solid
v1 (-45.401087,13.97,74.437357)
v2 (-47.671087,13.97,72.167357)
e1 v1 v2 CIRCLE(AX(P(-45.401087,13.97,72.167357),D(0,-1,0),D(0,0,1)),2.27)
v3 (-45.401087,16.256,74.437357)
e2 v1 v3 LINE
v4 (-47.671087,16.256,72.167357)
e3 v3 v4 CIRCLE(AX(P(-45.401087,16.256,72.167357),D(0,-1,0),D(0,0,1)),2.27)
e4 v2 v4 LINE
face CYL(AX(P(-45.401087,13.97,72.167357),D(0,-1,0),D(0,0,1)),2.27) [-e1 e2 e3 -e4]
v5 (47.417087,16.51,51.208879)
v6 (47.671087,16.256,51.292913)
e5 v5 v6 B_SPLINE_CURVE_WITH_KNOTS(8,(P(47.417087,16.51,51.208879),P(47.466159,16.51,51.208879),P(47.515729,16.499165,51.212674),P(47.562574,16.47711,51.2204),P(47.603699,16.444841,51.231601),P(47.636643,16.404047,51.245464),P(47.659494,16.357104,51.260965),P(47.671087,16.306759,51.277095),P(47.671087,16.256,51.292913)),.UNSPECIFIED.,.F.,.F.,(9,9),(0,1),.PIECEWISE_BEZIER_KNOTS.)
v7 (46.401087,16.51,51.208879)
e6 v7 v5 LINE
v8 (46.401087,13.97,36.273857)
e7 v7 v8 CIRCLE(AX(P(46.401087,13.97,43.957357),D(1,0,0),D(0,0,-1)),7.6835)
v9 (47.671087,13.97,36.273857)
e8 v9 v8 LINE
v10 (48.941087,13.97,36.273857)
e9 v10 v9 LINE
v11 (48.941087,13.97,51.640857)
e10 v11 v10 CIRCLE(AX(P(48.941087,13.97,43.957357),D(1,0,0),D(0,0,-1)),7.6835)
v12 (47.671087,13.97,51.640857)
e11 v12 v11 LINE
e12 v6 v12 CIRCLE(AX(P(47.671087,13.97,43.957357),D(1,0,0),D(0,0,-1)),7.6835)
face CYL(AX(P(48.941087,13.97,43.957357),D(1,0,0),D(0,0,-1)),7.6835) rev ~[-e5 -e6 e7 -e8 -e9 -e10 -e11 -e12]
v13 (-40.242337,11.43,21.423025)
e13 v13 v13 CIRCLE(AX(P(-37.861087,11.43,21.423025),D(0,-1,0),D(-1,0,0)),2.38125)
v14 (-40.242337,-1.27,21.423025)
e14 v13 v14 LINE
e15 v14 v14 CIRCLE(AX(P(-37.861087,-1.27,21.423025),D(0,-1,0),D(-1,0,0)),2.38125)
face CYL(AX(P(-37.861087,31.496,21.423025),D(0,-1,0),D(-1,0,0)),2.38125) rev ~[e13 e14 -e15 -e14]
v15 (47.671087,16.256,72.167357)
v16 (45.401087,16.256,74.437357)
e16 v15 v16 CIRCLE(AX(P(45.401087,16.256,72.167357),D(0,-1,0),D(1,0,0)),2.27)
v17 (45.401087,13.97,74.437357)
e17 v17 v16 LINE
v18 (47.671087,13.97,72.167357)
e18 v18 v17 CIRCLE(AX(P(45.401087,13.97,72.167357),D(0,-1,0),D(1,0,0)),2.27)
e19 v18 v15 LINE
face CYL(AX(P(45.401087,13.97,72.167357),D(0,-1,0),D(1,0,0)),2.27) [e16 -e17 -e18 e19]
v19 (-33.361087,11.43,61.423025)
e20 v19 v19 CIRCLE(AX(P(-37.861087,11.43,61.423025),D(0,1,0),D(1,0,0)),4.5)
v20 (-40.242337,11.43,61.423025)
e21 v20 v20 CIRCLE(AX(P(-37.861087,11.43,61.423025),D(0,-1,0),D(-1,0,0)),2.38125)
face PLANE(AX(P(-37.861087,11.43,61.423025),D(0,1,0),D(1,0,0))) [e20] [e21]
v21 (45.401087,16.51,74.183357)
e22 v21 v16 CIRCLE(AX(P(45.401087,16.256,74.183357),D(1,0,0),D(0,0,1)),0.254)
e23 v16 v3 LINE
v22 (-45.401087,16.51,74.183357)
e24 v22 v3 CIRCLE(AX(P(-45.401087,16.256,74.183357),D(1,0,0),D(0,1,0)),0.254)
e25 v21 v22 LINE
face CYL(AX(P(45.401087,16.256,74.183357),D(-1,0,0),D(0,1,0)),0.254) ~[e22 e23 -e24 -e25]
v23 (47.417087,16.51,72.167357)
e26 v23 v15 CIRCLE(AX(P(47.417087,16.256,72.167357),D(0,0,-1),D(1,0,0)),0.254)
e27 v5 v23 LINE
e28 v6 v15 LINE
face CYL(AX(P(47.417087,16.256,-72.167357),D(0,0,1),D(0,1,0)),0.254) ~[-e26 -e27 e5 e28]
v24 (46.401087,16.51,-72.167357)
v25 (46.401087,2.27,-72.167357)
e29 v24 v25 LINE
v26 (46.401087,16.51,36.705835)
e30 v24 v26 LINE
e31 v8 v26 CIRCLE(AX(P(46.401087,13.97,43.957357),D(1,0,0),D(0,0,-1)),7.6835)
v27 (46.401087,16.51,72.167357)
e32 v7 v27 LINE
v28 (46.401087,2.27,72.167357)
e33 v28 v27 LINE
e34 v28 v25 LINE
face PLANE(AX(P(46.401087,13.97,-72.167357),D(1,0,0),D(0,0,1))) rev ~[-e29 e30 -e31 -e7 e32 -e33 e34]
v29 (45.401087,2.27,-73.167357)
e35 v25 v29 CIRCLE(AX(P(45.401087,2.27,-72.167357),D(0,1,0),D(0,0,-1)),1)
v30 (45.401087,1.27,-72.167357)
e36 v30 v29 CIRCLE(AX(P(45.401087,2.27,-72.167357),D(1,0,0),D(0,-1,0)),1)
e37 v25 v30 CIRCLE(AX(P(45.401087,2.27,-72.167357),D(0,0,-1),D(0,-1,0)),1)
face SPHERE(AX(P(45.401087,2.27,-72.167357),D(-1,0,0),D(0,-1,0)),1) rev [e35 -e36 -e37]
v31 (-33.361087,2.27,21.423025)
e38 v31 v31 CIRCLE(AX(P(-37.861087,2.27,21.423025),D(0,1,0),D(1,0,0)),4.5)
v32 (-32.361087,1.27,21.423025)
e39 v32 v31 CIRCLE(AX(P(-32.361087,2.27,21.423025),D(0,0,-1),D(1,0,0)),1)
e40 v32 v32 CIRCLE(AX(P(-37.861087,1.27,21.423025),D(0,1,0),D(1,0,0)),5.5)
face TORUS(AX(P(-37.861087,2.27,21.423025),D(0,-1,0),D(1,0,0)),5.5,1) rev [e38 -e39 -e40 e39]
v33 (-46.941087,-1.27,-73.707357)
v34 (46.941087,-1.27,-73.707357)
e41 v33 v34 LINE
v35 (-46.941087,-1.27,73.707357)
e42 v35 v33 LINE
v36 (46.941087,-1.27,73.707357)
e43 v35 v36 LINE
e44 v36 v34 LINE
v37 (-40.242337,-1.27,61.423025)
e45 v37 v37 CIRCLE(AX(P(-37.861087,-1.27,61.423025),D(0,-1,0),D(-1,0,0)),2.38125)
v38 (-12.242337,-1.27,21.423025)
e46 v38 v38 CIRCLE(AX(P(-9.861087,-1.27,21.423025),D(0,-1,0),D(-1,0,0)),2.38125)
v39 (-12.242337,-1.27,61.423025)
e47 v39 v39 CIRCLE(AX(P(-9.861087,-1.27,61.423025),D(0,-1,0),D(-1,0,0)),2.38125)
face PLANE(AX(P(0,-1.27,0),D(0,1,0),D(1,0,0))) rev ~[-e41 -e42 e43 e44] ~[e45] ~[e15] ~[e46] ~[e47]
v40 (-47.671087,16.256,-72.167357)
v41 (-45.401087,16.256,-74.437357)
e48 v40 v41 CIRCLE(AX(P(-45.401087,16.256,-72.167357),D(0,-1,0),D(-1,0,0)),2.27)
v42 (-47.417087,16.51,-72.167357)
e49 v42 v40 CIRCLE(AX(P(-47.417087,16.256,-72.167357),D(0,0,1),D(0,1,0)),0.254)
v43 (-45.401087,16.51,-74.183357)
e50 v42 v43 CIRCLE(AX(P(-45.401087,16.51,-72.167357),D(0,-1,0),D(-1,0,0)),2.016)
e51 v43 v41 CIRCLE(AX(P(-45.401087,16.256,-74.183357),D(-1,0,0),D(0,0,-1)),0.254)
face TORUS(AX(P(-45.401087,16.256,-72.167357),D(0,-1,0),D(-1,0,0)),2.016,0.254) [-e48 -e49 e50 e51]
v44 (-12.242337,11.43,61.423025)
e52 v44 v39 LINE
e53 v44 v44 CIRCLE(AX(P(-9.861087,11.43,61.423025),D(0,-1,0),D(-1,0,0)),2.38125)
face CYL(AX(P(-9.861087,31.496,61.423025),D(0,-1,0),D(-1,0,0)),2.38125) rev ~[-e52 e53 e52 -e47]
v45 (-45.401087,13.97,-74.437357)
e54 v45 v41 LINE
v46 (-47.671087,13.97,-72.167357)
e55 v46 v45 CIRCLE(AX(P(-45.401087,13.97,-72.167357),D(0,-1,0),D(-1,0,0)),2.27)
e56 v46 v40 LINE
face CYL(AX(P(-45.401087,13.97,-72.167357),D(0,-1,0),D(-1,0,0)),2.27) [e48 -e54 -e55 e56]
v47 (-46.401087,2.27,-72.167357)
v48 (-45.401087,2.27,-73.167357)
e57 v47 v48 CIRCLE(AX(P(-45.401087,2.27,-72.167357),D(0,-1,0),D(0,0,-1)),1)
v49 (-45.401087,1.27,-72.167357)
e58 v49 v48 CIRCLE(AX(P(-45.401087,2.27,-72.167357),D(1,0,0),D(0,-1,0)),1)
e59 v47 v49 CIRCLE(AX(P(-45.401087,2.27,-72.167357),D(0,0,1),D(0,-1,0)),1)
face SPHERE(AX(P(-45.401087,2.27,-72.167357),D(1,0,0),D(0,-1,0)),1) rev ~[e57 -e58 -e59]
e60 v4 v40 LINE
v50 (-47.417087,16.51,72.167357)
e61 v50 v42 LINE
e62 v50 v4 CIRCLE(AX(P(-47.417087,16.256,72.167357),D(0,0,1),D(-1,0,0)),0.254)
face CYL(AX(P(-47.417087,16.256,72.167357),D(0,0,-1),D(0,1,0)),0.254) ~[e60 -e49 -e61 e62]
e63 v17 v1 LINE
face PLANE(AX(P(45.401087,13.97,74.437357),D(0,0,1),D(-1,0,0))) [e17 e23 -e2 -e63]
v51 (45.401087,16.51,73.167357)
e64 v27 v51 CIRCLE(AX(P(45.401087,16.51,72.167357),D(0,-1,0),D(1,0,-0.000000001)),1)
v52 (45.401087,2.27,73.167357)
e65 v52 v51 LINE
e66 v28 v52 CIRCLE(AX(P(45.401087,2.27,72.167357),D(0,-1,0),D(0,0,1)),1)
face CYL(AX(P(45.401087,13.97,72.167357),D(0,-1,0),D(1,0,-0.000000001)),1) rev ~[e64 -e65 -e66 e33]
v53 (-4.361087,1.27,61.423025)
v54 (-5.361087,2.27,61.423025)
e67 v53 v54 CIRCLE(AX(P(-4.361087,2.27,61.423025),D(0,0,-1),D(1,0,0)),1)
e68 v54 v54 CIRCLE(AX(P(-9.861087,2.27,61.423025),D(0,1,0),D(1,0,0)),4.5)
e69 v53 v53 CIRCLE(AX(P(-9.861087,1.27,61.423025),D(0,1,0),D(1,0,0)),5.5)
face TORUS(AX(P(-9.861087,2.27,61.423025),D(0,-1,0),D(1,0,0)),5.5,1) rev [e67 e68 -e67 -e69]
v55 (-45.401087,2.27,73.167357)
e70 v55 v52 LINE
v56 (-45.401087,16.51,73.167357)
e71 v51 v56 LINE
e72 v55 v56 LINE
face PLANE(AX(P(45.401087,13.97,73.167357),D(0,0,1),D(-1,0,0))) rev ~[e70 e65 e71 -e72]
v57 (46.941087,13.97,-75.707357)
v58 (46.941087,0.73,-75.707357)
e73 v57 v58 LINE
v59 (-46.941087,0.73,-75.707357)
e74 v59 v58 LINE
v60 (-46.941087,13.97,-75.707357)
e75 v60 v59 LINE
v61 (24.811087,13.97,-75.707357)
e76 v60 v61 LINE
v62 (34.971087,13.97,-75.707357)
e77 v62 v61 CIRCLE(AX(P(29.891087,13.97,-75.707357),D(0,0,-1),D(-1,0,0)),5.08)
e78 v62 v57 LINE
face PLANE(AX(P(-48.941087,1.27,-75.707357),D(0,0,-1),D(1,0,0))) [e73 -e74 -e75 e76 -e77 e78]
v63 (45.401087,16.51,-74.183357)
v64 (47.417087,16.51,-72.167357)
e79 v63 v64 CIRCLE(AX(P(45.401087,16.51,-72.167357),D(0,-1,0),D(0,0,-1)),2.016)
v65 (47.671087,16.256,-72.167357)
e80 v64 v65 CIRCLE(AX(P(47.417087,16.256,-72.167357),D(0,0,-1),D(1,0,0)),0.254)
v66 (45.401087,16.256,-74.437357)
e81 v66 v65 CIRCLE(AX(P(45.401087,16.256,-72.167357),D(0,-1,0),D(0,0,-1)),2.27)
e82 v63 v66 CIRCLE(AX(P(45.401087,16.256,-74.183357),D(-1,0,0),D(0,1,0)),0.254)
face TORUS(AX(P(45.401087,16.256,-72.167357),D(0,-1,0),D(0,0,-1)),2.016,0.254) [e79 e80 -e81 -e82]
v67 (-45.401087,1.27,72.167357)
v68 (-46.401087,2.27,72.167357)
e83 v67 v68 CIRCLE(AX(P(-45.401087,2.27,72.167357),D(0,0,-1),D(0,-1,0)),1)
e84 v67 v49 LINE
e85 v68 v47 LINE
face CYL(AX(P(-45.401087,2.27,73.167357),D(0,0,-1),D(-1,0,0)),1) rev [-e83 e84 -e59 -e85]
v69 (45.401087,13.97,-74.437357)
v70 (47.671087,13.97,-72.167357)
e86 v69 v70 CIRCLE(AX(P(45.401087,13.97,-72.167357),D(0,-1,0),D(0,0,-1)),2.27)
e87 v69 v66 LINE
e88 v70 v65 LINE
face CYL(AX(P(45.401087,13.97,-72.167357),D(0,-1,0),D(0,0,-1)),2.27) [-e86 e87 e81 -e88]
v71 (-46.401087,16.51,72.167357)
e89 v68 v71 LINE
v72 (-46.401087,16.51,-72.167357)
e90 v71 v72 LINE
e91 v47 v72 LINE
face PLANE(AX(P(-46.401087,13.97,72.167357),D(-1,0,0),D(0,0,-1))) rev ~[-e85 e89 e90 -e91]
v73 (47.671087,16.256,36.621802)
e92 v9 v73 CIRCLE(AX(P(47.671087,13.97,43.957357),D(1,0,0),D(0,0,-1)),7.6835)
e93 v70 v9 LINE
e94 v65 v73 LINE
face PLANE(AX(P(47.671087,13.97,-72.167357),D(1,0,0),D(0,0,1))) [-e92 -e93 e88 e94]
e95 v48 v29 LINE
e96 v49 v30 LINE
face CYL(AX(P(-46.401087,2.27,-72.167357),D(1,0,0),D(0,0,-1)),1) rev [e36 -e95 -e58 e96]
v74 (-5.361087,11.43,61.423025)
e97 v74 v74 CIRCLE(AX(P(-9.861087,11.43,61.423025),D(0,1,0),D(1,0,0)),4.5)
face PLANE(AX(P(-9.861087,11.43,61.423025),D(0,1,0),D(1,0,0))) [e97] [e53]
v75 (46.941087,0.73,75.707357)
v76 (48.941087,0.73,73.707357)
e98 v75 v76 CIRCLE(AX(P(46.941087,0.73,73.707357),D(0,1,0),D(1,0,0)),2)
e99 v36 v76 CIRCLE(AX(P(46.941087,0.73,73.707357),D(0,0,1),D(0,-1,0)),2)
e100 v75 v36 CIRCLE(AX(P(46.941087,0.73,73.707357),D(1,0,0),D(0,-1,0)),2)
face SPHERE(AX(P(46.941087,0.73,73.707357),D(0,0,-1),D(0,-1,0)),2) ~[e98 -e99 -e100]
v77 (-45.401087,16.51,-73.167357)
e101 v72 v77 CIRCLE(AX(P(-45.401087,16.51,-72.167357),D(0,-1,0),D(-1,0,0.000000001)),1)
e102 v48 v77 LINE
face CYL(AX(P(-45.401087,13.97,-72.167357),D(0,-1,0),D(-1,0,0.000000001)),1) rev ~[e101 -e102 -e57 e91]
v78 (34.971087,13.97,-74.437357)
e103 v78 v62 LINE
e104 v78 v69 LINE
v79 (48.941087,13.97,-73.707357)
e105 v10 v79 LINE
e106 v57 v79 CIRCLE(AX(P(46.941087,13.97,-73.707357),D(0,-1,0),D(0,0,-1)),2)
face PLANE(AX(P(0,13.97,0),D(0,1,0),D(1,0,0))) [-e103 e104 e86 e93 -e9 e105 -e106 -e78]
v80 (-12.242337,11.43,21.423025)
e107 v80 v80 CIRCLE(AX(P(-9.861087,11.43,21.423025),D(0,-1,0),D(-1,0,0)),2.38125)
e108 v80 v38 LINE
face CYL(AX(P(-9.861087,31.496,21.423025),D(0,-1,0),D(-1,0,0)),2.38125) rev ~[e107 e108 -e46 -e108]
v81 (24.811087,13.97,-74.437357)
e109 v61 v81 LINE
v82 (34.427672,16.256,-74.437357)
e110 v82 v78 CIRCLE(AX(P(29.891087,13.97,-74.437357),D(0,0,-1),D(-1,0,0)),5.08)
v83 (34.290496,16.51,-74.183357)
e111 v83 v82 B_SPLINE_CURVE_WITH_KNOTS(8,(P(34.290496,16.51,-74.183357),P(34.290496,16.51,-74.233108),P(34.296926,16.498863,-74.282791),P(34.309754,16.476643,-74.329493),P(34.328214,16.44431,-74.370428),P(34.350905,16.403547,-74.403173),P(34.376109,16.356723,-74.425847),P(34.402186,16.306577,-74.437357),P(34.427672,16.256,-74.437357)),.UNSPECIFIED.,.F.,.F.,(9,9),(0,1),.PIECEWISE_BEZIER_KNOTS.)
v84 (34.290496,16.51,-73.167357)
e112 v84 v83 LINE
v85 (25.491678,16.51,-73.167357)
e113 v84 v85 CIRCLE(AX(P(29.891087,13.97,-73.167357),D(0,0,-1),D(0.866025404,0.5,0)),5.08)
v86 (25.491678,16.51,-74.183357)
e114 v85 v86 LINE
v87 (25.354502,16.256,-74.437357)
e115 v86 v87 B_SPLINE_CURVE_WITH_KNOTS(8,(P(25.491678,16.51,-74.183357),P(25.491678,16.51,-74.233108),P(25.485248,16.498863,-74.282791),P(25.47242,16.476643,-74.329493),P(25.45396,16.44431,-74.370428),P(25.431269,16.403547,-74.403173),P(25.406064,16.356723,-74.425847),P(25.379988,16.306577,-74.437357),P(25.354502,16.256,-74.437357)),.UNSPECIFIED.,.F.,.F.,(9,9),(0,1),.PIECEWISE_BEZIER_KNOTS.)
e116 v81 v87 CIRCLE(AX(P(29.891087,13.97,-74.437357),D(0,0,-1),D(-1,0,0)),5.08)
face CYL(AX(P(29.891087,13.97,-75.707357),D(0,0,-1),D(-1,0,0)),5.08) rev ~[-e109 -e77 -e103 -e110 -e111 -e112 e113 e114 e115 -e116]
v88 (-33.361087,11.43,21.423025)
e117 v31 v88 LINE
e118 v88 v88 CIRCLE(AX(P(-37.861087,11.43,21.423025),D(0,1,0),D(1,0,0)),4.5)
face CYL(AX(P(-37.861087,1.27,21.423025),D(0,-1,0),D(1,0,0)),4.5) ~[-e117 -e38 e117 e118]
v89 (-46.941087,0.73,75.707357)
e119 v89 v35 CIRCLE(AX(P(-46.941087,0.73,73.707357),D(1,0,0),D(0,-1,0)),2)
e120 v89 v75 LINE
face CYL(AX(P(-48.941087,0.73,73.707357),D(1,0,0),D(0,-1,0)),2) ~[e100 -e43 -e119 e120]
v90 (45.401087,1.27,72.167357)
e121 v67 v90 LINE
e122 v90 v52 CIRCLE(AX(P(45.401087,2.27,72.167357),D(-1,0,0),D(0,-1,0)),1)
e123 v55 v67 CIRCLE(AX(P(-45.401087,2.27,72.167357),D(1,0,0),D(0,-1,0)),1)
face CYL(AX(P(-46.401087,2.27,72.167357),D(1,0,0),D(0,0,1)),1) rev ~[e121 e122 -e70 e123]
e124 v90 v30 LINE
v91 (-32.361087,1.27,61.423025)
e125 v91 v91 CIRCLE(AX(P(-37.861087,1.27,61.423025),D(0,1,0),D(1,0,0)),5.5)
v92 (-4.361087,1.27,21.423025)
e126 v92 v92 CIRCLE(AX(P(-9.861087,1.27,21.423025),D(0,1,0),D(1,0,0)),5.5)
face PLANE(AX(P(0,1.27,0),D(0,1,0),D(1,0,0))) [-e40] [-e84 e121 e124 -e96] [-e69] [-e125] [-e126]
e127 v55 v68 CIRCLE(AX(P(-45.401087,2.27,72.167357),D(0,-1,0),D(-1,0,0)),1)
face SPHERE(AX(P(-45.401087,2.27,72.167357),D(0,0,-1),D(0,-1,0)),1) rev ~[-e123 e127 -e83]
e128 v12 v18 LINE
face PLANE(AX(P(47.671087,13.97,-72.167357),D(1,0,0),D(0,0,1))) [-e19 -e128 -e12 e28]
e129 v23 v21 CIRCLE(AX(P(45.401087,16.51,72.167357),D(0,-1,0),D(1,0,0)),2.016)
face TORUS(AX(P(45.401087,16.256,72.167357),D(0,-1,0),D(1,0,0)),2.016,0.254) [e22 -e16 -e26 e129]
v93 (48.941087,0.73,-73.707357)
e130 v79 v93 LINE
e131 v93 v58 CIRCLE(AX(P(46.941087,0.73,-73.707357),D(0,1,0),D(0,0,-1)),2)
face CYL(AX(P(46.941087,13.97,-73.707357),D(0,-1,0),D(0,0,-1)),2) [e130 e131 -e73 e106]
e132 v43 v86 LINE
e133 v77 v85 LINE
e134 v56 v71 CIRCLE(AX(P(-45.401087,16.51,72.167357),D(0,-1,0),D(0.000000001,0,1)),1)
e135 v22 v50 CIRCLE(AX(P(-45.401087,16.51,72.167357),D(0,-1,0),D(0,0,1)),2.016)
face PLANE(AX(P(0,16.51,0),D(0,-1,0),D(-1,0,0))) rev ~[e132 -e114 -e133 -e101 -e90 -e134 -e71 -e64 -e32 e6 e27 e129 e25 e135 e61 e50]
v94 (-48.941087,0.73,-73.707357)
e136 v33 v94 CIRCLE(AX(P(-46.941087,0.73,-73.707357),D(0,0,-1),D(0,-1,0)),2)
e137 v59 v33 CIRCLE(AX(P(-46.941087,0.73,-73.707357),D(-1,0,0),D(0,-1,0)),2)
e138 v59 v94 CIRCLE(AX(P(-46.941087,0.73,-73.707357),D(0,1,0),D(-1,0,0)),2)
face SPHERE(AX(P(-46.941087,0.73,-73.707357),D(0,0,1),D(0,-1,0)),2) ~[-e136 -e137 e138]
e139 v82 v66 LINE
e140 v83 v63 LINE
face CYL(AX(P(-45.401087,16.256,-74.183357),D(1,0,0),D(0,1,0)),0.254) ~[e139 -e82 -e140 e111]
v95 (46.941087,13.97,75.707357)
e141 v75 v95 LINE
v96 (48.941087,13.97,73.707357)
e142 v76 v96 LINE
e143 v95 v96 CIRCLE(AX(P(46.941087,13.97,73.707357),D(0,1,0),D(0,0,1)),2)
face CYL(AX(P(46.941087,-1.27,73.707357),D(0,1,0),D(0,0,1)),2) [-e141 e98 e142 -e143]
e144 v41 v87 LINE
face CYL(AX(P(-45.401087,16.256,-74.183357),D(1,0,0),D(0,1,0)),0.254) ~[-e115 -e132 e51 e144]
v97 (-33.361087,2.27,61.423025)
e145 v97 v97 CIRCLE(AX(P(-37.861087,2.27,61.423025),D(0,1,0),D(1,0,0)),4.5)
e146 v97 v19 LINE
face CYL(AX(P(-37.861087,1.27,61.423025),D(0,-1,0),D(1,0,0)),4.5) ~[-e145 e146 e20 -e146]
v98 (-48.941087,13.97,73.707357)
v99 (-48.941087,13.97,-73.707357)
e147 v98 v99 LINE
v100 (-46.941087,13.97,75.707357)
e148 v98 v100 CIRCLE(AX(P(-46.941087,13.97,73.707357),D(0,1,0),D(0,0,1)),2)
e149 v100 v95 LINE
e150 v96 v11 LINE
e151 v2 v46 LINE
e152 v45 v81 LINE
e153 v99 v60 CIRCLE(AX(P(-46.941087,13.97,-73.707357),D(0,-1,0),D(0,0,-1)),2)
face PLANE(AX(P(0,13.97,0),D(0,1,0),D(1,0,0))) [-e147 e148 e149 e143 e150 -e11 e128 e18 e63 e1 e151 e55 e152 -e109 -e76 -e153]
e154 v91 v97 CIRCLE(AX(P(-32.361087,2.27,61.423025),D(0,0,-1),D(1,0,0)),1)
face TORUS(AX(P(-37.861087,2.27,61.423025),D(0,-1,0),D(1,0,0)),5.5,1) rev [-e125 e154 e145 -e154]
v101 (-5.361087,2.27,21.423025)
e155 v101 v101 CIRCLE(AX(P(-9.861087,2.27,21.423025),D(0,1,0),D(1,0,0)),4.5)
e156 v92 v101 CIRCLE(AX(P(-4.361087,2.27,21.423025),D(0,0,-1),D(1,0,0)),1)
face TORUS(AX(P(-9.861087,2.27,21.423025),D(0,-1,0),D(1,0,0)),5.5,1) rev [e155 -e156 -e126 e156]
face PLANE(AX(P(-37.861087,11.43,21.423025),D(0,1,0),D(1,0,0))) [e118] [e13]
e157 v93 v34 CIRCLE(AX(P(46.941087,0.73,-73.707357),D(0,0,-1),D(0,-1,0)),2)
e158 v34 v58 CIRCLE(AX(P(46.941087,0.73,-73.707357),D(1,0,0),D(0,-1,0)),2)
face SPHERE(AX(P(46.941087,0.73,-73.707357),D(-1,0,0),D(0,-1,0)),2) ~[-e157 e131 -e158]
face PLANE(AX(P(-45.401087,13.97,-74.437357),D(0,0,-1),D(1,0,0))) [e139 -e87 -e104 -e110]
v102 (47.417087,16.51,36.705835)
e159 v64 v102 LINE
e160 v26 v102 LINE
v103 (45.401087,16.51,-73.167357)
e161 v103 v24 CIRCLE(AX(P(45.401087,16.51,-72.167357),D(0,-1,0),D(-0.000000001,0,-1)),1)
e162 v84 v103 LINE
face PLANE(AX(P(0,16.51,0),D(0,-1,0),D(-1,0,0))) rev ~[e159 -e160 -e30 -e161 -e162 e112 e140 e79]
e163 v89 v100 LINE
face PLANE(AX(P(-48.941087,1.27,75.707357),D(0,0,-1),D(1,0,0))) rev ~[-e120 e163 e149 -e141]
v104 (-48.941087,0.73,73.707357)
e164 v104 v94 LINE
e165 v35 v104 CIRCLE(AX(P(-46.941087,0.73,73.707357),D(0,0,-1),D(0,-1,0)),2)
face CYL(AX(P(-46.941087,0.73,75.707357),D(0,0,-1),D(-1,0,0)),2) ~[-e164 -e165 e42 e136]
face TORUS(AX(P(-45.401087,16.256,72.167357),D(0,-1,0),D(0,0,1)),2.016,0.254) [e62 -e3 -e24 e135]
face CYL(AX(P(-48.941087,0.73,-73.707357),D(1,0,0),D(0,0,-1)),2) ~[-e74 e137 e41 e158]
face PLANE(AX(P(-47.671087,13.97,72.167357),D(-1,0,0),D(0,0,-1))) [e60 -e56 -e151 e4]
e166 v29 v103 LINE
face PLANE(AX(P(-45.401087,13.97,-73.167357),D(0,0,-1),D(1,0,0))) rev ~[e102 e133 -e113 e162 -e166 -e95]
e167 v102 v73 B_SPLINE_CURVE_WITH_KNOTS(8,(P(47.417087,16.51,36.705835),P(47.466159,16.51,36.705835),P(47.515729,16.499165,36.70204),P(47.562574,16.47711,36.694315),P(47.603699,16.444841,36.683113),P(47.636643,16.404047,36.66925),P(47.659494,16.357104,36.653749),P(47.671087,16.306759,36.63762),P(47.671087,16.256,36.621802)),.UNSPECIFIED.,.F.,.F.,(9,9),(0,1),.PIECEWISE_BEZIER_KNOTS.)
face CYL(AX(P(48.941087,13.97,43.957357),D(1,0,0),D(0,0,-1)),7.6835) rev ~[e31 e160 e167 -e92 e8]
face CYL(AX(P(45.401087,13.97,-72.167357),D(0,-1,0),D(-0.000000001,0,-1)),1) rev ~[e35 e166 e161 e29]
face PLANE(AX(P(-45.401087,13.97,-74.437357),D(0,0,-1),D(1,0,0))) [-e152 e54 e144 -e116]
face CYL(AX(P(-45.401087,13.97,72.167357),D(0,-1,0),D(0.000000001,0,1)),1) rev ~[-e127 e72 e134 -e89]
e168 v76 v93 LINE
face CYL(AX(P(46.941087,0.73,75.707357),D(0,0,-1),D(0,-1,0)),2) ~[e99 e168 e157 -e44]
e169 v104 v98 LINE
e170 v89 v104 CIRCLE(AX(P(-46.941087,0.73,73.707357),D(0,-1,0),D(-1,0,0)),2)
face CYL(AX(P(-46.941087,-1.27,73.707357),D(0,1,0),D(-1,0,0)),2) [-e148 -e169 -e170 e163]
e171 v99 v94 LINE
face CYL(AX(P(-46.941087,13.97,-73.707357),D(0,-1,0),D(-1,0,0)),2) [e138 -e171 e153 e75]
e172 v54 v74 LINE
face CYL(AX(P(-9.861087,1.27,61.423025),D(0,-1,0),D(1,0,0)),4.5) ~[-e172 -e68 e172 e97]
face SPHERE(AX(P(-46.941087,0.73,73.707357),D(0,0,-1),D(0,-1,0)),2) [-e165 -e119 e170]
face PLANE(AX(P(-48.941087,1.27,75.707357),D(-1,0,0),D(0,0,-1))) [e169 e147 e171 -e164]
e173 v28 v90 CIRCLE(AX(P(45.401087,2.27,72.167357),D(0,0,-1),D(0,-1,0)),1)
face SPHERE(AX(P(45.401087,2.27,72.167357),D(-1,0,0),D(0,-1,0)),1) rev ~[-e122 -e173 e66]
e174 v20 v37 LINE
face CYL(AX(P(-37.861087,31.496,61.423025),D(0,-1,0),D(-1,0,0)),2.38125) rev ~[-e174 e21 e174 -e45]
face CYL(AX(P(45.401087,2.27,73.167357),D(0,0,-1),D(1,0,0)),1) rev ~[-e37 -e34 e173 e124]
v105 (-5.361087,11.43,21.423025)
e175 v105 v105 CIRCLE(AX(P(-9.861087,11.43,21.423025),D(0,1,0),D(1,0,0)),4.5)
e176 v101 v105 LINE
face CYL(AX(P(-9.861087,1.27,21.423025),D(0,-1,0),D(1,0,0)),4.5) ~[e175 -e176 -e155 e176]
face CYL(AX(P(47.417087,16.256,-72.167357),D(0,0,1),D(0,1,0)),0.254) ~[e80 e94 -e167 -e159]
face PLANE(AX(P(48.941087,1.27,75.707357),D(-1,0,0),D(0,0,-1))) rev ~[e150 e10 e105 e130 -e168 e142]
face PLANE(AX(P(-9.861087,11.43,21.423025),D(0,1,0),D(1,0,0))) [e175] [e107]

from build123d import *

# Parameters (mm, degrees)
SKETCH1_W                          = 97.882173792
SKETCH1_H                          = 151.414714432
BOSS_EXTRUDE1_DEPTH                = 1.27
SKETCH2_W                          = 97.882173792
SKETCH2_H                          = 151.414714432
SKETCH2_W_2                        = 92.802173792
SKETCH2_H_2                        = 146.334714432
BOSS_EXTRUDE2_DEPTH                = 12.7
SKETCH4_R                          = 4.500000017
SKETCH4_R_2                        = 4.5
BOSS_EXTRUDE3_DEPTH                = 10.16
FILLET1_R                          = 2
FILLET2_R                          = 1
FILLET3_R                          = 1
F_3_16_0_1875_DIAMETER_HOLE1_D     = 4.7625
F_3_16_0_1875_DIAMETER_HOLE1_DEPTH = 20.066
F_3_16_0_1875_DIAMETER_HOLE1_TIP   = 1.430799349
BOSS_EXTRUDE4_DEPTH                = 2.54
FILLET4_R                          = 0.254
SKETCH8_R                          = 7.6835
CUT_EXTRUDE1_DEPTH                 = 2.54
CUT_EXTRUDE2_REACH                 = 153.415
SKETCH10_R                         = 5.08


with BuildPart() as part:
    # Sketch1 → Boss-Extrude1 (new body, symmetric)
    with BuildSketch(Plane(origin=(0, 0, 0), x_dir=(1, 0, 0), z_dir=(0, 1, 0))):
        Rectangle(SKETCH1_W, SKETCH1_H)
    extrude(amount=BOSS_EXTRUDE1_DEPTH, both=True)

    # Sketch2 → Boss-Extrude2 (add)
    with BuildSketch(Plane(origin=(0, 1.27, 0), x_dir=(1, 0, 0), z_dir=(0, 1, 0))):
        Rectangle(SKETCH2_W, SKETCH2_H)
        Rectangle(SKETCH2_W_2, SKETCH2_H_2, mode=Mode.SUBTRACT)
    extrude(amount=BOSS_EXTRUDE2_DEPTH)

    # Sketch4 → Boss-Extrude3 (add)
    with BuildSketch(Plane(origin=(0, 1.27, 0), x_dir=(1, 0, 0), z_dir=(0, 1, 0))):
        with Locations((-9.861086891, -21.423024629)):
            Circle(SKETCH4_R)
        with Locations((-37.861086891, -61.423024629)):
            Circle(SKETCH4_R_2)
        with Locations((-9.861086891, -61.423024629)):
            Circle(SKETCH4_R)
        with Locations((-37.861086891, -21.423024629)):
            Circle(SKETCH4_R_2)
    extrude(amount=BOSS_EXTRUDE3_DEPTH)

    # Fillet1
    fillet1_edges = [part.edges().sort_by_distance(p)[0] for p in [
        (-48.941086896, -1.27, 0),
        (0, -1.27, -75.707357216),
        (48.941086896, -1.27, 0),
        (0, -1.27, 75.707357216),
        (-48.941086896, 6.35, 75.707357216),
        (-48.941086896, 6.35, -75.707357216),
        (48.941086896, 6.35, -75.707357216),
        (48.941086896, 6.35, 75.707357216),
    ]]
    fillet(fillet1_edges, radius=FILLET1_R)

    # Fillet2
    fillet2_edges = [part.edges().sort_by_distance(p)[0] for p in [
        (0, 1.27, -73.167357216),
        (-46.401086896, 1.27, 0),
        (0, 1.27, 73.167357216),
        (46.401086896, 1.27, 0),
        (-46.401086896, 7.62, -73.167357216),
        (-46.401086896, 7.62, 73.167357216),
        (46.401086896, 7.62, 73.167357216),
        (46.401086896, 7.62, -73.167357216),
    ]]
    fillet(fillet2_edges, radius=FILLET2_R)

    # Fillet3
    fillet3_edges = [part.edges().sort_by_distance(p)[0] for p in [
        (-14.361086908, 1.27, 21.423024629),
        (-42.361086891, 1.27, 61.423024629),
        (-14.361086908, 1.27, 61.423024629),
        (-42.361086891, 1.27, 21.423024629),
    ]]
    fillet(fillet3_edges, radius=FILLET3_R)

    # 3/16 (0.1875) Diameter Hole1
    with Locations(Plane(origin=(0, 11.43, 0), x_dir=(1, 0, 0), z_dir=(0, 1, 0))):
        with Locations((-37.861086891, -21.423024629), (-37.861086891, -61.423024629), (-9.861086891, -21.423024629), (-9.861086891, -61.423024629)):
            Hole(F_3_16_0_1875_DIAMETER_HOLE1_D / 2, depth=F_3_16_0_1875_DIAMETER_HOLE1_DEPTH)
            with Locations((0, 0, -(F_3_16_0_1875_DIAMETER_HOLE1_DEPTH + F_3_16_0_1875_DIAMETER_HOLE1_TIP / 2))):  # 118° drill point
                Cone(0, F_3_16_0_1875_DIAMETER_HOLE1_D / 2, F_3_16_0_1875_DIAMETER_HOLE1_TIP, mode=Mode.SUBTRACT)

    # Sketch7 → Boss-Extrude4 (add)
    with BuildSketch(Plane(origin=(0, 13.97, 0), x_dir=(1, 0, 0), z_dir=(0, 1, 0))):
        with BuildLine():
            Line((45.401086896, -74.437357216), (-45.401086896, -74.437357216))
            ThreePointArc((-45.401086896, -74.437357216), (-47.00621929, -73.772489609), (-47.671086896, -72.167357216))
            Line((-47.671086896, -72.167357216), (-47.671086896, 72.167357216))
            ThreePointArc((-47.671086896, 72.167357216), (-47.00621929, 73.772489609), (-45.401086896, 74.437357216))
            Line((-45.401086896, 74.437357216), (45.401086896, 74.437357216))
            ThreePointArc((45.401086896, 74.437357216), (47.00621929, 73.772489609), (47.671086896, 72.167357216))
            Line((47.671086896, 72.167357216), (47.671086896, -72.167357216))
            ThreePointArc((47.671086896, -72.167357216), (47.00621929, -73.772489609), (45.401086896, -74.437357216))
        make_face()
        with BuildLine():
            Line((46.401086896, 72.167357216), (46.401086896, -72.167357216))
            ThreePointArc((46.401086896, -72.167357216), (46.108193678, -72.874463997), (45.401086896, -73.167357216))
            Line((45.401086896, -73.167357216), (-45.401086896, -73.167357216))
            ThreePointArc((-45.401086896, -73.167357216), (-46.108193678, -72.874463997), (-46.401086896, -72.167357216))
            Line((-46.401086896, -72.167357216), (-46.401086896, 72.167357216))
            ThreePointArc((-46.401086896, 72.167357216), (-46.108193678, 72.874463997), (-45.401086896, 73.167357216))
            Line((-45.401086896, 73.167357216), (45.401086896, 73.167357216))
            ThreePointArc((45.401086896, 73.167357216), (46.108193678, 72.874463997), (46.401086896, 72.167357216))
        make_face(mode=Mode.SUBTRACT)
    extrude(amount=BOSS_EXTRUDE4_DEPTH)

    # Fillet4
    fillet4_edges = [part.edges().sort_by_distance(p)[0] for p in [
        (47.00621929, 16.51, 73.772489609),
        (47.671086896, 16.51, 0),
        (47.00621929, 16.51, -73.772489609),
        (0, 16.51, -74.437357216),
        (-47.00621929, 16.51, -73.772489609),
        (-47.671086896, 16.51, 0),
        (-47.00621929, 16.51, 73.772489609),
        (0, 16.51, 74.437357216),
    ]]
    fillet(fillet4_edges, radius=FILLET4_R)

    # Sketch8 → Cut-Extrude1 (cut)
    with BuildSketch(Plane(origin=(48.941086896, 0, 0), x_dir=(0, 0, -1), z_dir=(1, 0, 0))):
        with Locations((-43.957357216, 13.97)):
            Circle(SKETCH8_R)
    extrude(amount=-CUT_EXTRUDE1_DEPTH, mode=Mode.SUBTRACT)

    # Sketch10 → Cut-Extrude2 (cut, up to next)
    with BuildSketch(Plane(origin=(0, 0, -75.707357216), x_dir=(-1, 0, 0), z_dir=(0, 0, -1)), mode=Mode.PRIVATE) as cut_extrude2_sk1:
        with Locations((-29.891086896, 13.97)):
            Circle(SKETCH10_R)
    cut_extrude2_tool1 = extrude(cut_extrude2_sk1.sketch, amount=-CUT_EXTRUDE2_REACH, mode=Mode.PRIVATE) & part.part
    add(cut_extrude2_tool1.solids().sort_by_distance((29.891087, 13.97, -75.707357))[0], mode=Mode.SUBTRACT)


solid = part.part
